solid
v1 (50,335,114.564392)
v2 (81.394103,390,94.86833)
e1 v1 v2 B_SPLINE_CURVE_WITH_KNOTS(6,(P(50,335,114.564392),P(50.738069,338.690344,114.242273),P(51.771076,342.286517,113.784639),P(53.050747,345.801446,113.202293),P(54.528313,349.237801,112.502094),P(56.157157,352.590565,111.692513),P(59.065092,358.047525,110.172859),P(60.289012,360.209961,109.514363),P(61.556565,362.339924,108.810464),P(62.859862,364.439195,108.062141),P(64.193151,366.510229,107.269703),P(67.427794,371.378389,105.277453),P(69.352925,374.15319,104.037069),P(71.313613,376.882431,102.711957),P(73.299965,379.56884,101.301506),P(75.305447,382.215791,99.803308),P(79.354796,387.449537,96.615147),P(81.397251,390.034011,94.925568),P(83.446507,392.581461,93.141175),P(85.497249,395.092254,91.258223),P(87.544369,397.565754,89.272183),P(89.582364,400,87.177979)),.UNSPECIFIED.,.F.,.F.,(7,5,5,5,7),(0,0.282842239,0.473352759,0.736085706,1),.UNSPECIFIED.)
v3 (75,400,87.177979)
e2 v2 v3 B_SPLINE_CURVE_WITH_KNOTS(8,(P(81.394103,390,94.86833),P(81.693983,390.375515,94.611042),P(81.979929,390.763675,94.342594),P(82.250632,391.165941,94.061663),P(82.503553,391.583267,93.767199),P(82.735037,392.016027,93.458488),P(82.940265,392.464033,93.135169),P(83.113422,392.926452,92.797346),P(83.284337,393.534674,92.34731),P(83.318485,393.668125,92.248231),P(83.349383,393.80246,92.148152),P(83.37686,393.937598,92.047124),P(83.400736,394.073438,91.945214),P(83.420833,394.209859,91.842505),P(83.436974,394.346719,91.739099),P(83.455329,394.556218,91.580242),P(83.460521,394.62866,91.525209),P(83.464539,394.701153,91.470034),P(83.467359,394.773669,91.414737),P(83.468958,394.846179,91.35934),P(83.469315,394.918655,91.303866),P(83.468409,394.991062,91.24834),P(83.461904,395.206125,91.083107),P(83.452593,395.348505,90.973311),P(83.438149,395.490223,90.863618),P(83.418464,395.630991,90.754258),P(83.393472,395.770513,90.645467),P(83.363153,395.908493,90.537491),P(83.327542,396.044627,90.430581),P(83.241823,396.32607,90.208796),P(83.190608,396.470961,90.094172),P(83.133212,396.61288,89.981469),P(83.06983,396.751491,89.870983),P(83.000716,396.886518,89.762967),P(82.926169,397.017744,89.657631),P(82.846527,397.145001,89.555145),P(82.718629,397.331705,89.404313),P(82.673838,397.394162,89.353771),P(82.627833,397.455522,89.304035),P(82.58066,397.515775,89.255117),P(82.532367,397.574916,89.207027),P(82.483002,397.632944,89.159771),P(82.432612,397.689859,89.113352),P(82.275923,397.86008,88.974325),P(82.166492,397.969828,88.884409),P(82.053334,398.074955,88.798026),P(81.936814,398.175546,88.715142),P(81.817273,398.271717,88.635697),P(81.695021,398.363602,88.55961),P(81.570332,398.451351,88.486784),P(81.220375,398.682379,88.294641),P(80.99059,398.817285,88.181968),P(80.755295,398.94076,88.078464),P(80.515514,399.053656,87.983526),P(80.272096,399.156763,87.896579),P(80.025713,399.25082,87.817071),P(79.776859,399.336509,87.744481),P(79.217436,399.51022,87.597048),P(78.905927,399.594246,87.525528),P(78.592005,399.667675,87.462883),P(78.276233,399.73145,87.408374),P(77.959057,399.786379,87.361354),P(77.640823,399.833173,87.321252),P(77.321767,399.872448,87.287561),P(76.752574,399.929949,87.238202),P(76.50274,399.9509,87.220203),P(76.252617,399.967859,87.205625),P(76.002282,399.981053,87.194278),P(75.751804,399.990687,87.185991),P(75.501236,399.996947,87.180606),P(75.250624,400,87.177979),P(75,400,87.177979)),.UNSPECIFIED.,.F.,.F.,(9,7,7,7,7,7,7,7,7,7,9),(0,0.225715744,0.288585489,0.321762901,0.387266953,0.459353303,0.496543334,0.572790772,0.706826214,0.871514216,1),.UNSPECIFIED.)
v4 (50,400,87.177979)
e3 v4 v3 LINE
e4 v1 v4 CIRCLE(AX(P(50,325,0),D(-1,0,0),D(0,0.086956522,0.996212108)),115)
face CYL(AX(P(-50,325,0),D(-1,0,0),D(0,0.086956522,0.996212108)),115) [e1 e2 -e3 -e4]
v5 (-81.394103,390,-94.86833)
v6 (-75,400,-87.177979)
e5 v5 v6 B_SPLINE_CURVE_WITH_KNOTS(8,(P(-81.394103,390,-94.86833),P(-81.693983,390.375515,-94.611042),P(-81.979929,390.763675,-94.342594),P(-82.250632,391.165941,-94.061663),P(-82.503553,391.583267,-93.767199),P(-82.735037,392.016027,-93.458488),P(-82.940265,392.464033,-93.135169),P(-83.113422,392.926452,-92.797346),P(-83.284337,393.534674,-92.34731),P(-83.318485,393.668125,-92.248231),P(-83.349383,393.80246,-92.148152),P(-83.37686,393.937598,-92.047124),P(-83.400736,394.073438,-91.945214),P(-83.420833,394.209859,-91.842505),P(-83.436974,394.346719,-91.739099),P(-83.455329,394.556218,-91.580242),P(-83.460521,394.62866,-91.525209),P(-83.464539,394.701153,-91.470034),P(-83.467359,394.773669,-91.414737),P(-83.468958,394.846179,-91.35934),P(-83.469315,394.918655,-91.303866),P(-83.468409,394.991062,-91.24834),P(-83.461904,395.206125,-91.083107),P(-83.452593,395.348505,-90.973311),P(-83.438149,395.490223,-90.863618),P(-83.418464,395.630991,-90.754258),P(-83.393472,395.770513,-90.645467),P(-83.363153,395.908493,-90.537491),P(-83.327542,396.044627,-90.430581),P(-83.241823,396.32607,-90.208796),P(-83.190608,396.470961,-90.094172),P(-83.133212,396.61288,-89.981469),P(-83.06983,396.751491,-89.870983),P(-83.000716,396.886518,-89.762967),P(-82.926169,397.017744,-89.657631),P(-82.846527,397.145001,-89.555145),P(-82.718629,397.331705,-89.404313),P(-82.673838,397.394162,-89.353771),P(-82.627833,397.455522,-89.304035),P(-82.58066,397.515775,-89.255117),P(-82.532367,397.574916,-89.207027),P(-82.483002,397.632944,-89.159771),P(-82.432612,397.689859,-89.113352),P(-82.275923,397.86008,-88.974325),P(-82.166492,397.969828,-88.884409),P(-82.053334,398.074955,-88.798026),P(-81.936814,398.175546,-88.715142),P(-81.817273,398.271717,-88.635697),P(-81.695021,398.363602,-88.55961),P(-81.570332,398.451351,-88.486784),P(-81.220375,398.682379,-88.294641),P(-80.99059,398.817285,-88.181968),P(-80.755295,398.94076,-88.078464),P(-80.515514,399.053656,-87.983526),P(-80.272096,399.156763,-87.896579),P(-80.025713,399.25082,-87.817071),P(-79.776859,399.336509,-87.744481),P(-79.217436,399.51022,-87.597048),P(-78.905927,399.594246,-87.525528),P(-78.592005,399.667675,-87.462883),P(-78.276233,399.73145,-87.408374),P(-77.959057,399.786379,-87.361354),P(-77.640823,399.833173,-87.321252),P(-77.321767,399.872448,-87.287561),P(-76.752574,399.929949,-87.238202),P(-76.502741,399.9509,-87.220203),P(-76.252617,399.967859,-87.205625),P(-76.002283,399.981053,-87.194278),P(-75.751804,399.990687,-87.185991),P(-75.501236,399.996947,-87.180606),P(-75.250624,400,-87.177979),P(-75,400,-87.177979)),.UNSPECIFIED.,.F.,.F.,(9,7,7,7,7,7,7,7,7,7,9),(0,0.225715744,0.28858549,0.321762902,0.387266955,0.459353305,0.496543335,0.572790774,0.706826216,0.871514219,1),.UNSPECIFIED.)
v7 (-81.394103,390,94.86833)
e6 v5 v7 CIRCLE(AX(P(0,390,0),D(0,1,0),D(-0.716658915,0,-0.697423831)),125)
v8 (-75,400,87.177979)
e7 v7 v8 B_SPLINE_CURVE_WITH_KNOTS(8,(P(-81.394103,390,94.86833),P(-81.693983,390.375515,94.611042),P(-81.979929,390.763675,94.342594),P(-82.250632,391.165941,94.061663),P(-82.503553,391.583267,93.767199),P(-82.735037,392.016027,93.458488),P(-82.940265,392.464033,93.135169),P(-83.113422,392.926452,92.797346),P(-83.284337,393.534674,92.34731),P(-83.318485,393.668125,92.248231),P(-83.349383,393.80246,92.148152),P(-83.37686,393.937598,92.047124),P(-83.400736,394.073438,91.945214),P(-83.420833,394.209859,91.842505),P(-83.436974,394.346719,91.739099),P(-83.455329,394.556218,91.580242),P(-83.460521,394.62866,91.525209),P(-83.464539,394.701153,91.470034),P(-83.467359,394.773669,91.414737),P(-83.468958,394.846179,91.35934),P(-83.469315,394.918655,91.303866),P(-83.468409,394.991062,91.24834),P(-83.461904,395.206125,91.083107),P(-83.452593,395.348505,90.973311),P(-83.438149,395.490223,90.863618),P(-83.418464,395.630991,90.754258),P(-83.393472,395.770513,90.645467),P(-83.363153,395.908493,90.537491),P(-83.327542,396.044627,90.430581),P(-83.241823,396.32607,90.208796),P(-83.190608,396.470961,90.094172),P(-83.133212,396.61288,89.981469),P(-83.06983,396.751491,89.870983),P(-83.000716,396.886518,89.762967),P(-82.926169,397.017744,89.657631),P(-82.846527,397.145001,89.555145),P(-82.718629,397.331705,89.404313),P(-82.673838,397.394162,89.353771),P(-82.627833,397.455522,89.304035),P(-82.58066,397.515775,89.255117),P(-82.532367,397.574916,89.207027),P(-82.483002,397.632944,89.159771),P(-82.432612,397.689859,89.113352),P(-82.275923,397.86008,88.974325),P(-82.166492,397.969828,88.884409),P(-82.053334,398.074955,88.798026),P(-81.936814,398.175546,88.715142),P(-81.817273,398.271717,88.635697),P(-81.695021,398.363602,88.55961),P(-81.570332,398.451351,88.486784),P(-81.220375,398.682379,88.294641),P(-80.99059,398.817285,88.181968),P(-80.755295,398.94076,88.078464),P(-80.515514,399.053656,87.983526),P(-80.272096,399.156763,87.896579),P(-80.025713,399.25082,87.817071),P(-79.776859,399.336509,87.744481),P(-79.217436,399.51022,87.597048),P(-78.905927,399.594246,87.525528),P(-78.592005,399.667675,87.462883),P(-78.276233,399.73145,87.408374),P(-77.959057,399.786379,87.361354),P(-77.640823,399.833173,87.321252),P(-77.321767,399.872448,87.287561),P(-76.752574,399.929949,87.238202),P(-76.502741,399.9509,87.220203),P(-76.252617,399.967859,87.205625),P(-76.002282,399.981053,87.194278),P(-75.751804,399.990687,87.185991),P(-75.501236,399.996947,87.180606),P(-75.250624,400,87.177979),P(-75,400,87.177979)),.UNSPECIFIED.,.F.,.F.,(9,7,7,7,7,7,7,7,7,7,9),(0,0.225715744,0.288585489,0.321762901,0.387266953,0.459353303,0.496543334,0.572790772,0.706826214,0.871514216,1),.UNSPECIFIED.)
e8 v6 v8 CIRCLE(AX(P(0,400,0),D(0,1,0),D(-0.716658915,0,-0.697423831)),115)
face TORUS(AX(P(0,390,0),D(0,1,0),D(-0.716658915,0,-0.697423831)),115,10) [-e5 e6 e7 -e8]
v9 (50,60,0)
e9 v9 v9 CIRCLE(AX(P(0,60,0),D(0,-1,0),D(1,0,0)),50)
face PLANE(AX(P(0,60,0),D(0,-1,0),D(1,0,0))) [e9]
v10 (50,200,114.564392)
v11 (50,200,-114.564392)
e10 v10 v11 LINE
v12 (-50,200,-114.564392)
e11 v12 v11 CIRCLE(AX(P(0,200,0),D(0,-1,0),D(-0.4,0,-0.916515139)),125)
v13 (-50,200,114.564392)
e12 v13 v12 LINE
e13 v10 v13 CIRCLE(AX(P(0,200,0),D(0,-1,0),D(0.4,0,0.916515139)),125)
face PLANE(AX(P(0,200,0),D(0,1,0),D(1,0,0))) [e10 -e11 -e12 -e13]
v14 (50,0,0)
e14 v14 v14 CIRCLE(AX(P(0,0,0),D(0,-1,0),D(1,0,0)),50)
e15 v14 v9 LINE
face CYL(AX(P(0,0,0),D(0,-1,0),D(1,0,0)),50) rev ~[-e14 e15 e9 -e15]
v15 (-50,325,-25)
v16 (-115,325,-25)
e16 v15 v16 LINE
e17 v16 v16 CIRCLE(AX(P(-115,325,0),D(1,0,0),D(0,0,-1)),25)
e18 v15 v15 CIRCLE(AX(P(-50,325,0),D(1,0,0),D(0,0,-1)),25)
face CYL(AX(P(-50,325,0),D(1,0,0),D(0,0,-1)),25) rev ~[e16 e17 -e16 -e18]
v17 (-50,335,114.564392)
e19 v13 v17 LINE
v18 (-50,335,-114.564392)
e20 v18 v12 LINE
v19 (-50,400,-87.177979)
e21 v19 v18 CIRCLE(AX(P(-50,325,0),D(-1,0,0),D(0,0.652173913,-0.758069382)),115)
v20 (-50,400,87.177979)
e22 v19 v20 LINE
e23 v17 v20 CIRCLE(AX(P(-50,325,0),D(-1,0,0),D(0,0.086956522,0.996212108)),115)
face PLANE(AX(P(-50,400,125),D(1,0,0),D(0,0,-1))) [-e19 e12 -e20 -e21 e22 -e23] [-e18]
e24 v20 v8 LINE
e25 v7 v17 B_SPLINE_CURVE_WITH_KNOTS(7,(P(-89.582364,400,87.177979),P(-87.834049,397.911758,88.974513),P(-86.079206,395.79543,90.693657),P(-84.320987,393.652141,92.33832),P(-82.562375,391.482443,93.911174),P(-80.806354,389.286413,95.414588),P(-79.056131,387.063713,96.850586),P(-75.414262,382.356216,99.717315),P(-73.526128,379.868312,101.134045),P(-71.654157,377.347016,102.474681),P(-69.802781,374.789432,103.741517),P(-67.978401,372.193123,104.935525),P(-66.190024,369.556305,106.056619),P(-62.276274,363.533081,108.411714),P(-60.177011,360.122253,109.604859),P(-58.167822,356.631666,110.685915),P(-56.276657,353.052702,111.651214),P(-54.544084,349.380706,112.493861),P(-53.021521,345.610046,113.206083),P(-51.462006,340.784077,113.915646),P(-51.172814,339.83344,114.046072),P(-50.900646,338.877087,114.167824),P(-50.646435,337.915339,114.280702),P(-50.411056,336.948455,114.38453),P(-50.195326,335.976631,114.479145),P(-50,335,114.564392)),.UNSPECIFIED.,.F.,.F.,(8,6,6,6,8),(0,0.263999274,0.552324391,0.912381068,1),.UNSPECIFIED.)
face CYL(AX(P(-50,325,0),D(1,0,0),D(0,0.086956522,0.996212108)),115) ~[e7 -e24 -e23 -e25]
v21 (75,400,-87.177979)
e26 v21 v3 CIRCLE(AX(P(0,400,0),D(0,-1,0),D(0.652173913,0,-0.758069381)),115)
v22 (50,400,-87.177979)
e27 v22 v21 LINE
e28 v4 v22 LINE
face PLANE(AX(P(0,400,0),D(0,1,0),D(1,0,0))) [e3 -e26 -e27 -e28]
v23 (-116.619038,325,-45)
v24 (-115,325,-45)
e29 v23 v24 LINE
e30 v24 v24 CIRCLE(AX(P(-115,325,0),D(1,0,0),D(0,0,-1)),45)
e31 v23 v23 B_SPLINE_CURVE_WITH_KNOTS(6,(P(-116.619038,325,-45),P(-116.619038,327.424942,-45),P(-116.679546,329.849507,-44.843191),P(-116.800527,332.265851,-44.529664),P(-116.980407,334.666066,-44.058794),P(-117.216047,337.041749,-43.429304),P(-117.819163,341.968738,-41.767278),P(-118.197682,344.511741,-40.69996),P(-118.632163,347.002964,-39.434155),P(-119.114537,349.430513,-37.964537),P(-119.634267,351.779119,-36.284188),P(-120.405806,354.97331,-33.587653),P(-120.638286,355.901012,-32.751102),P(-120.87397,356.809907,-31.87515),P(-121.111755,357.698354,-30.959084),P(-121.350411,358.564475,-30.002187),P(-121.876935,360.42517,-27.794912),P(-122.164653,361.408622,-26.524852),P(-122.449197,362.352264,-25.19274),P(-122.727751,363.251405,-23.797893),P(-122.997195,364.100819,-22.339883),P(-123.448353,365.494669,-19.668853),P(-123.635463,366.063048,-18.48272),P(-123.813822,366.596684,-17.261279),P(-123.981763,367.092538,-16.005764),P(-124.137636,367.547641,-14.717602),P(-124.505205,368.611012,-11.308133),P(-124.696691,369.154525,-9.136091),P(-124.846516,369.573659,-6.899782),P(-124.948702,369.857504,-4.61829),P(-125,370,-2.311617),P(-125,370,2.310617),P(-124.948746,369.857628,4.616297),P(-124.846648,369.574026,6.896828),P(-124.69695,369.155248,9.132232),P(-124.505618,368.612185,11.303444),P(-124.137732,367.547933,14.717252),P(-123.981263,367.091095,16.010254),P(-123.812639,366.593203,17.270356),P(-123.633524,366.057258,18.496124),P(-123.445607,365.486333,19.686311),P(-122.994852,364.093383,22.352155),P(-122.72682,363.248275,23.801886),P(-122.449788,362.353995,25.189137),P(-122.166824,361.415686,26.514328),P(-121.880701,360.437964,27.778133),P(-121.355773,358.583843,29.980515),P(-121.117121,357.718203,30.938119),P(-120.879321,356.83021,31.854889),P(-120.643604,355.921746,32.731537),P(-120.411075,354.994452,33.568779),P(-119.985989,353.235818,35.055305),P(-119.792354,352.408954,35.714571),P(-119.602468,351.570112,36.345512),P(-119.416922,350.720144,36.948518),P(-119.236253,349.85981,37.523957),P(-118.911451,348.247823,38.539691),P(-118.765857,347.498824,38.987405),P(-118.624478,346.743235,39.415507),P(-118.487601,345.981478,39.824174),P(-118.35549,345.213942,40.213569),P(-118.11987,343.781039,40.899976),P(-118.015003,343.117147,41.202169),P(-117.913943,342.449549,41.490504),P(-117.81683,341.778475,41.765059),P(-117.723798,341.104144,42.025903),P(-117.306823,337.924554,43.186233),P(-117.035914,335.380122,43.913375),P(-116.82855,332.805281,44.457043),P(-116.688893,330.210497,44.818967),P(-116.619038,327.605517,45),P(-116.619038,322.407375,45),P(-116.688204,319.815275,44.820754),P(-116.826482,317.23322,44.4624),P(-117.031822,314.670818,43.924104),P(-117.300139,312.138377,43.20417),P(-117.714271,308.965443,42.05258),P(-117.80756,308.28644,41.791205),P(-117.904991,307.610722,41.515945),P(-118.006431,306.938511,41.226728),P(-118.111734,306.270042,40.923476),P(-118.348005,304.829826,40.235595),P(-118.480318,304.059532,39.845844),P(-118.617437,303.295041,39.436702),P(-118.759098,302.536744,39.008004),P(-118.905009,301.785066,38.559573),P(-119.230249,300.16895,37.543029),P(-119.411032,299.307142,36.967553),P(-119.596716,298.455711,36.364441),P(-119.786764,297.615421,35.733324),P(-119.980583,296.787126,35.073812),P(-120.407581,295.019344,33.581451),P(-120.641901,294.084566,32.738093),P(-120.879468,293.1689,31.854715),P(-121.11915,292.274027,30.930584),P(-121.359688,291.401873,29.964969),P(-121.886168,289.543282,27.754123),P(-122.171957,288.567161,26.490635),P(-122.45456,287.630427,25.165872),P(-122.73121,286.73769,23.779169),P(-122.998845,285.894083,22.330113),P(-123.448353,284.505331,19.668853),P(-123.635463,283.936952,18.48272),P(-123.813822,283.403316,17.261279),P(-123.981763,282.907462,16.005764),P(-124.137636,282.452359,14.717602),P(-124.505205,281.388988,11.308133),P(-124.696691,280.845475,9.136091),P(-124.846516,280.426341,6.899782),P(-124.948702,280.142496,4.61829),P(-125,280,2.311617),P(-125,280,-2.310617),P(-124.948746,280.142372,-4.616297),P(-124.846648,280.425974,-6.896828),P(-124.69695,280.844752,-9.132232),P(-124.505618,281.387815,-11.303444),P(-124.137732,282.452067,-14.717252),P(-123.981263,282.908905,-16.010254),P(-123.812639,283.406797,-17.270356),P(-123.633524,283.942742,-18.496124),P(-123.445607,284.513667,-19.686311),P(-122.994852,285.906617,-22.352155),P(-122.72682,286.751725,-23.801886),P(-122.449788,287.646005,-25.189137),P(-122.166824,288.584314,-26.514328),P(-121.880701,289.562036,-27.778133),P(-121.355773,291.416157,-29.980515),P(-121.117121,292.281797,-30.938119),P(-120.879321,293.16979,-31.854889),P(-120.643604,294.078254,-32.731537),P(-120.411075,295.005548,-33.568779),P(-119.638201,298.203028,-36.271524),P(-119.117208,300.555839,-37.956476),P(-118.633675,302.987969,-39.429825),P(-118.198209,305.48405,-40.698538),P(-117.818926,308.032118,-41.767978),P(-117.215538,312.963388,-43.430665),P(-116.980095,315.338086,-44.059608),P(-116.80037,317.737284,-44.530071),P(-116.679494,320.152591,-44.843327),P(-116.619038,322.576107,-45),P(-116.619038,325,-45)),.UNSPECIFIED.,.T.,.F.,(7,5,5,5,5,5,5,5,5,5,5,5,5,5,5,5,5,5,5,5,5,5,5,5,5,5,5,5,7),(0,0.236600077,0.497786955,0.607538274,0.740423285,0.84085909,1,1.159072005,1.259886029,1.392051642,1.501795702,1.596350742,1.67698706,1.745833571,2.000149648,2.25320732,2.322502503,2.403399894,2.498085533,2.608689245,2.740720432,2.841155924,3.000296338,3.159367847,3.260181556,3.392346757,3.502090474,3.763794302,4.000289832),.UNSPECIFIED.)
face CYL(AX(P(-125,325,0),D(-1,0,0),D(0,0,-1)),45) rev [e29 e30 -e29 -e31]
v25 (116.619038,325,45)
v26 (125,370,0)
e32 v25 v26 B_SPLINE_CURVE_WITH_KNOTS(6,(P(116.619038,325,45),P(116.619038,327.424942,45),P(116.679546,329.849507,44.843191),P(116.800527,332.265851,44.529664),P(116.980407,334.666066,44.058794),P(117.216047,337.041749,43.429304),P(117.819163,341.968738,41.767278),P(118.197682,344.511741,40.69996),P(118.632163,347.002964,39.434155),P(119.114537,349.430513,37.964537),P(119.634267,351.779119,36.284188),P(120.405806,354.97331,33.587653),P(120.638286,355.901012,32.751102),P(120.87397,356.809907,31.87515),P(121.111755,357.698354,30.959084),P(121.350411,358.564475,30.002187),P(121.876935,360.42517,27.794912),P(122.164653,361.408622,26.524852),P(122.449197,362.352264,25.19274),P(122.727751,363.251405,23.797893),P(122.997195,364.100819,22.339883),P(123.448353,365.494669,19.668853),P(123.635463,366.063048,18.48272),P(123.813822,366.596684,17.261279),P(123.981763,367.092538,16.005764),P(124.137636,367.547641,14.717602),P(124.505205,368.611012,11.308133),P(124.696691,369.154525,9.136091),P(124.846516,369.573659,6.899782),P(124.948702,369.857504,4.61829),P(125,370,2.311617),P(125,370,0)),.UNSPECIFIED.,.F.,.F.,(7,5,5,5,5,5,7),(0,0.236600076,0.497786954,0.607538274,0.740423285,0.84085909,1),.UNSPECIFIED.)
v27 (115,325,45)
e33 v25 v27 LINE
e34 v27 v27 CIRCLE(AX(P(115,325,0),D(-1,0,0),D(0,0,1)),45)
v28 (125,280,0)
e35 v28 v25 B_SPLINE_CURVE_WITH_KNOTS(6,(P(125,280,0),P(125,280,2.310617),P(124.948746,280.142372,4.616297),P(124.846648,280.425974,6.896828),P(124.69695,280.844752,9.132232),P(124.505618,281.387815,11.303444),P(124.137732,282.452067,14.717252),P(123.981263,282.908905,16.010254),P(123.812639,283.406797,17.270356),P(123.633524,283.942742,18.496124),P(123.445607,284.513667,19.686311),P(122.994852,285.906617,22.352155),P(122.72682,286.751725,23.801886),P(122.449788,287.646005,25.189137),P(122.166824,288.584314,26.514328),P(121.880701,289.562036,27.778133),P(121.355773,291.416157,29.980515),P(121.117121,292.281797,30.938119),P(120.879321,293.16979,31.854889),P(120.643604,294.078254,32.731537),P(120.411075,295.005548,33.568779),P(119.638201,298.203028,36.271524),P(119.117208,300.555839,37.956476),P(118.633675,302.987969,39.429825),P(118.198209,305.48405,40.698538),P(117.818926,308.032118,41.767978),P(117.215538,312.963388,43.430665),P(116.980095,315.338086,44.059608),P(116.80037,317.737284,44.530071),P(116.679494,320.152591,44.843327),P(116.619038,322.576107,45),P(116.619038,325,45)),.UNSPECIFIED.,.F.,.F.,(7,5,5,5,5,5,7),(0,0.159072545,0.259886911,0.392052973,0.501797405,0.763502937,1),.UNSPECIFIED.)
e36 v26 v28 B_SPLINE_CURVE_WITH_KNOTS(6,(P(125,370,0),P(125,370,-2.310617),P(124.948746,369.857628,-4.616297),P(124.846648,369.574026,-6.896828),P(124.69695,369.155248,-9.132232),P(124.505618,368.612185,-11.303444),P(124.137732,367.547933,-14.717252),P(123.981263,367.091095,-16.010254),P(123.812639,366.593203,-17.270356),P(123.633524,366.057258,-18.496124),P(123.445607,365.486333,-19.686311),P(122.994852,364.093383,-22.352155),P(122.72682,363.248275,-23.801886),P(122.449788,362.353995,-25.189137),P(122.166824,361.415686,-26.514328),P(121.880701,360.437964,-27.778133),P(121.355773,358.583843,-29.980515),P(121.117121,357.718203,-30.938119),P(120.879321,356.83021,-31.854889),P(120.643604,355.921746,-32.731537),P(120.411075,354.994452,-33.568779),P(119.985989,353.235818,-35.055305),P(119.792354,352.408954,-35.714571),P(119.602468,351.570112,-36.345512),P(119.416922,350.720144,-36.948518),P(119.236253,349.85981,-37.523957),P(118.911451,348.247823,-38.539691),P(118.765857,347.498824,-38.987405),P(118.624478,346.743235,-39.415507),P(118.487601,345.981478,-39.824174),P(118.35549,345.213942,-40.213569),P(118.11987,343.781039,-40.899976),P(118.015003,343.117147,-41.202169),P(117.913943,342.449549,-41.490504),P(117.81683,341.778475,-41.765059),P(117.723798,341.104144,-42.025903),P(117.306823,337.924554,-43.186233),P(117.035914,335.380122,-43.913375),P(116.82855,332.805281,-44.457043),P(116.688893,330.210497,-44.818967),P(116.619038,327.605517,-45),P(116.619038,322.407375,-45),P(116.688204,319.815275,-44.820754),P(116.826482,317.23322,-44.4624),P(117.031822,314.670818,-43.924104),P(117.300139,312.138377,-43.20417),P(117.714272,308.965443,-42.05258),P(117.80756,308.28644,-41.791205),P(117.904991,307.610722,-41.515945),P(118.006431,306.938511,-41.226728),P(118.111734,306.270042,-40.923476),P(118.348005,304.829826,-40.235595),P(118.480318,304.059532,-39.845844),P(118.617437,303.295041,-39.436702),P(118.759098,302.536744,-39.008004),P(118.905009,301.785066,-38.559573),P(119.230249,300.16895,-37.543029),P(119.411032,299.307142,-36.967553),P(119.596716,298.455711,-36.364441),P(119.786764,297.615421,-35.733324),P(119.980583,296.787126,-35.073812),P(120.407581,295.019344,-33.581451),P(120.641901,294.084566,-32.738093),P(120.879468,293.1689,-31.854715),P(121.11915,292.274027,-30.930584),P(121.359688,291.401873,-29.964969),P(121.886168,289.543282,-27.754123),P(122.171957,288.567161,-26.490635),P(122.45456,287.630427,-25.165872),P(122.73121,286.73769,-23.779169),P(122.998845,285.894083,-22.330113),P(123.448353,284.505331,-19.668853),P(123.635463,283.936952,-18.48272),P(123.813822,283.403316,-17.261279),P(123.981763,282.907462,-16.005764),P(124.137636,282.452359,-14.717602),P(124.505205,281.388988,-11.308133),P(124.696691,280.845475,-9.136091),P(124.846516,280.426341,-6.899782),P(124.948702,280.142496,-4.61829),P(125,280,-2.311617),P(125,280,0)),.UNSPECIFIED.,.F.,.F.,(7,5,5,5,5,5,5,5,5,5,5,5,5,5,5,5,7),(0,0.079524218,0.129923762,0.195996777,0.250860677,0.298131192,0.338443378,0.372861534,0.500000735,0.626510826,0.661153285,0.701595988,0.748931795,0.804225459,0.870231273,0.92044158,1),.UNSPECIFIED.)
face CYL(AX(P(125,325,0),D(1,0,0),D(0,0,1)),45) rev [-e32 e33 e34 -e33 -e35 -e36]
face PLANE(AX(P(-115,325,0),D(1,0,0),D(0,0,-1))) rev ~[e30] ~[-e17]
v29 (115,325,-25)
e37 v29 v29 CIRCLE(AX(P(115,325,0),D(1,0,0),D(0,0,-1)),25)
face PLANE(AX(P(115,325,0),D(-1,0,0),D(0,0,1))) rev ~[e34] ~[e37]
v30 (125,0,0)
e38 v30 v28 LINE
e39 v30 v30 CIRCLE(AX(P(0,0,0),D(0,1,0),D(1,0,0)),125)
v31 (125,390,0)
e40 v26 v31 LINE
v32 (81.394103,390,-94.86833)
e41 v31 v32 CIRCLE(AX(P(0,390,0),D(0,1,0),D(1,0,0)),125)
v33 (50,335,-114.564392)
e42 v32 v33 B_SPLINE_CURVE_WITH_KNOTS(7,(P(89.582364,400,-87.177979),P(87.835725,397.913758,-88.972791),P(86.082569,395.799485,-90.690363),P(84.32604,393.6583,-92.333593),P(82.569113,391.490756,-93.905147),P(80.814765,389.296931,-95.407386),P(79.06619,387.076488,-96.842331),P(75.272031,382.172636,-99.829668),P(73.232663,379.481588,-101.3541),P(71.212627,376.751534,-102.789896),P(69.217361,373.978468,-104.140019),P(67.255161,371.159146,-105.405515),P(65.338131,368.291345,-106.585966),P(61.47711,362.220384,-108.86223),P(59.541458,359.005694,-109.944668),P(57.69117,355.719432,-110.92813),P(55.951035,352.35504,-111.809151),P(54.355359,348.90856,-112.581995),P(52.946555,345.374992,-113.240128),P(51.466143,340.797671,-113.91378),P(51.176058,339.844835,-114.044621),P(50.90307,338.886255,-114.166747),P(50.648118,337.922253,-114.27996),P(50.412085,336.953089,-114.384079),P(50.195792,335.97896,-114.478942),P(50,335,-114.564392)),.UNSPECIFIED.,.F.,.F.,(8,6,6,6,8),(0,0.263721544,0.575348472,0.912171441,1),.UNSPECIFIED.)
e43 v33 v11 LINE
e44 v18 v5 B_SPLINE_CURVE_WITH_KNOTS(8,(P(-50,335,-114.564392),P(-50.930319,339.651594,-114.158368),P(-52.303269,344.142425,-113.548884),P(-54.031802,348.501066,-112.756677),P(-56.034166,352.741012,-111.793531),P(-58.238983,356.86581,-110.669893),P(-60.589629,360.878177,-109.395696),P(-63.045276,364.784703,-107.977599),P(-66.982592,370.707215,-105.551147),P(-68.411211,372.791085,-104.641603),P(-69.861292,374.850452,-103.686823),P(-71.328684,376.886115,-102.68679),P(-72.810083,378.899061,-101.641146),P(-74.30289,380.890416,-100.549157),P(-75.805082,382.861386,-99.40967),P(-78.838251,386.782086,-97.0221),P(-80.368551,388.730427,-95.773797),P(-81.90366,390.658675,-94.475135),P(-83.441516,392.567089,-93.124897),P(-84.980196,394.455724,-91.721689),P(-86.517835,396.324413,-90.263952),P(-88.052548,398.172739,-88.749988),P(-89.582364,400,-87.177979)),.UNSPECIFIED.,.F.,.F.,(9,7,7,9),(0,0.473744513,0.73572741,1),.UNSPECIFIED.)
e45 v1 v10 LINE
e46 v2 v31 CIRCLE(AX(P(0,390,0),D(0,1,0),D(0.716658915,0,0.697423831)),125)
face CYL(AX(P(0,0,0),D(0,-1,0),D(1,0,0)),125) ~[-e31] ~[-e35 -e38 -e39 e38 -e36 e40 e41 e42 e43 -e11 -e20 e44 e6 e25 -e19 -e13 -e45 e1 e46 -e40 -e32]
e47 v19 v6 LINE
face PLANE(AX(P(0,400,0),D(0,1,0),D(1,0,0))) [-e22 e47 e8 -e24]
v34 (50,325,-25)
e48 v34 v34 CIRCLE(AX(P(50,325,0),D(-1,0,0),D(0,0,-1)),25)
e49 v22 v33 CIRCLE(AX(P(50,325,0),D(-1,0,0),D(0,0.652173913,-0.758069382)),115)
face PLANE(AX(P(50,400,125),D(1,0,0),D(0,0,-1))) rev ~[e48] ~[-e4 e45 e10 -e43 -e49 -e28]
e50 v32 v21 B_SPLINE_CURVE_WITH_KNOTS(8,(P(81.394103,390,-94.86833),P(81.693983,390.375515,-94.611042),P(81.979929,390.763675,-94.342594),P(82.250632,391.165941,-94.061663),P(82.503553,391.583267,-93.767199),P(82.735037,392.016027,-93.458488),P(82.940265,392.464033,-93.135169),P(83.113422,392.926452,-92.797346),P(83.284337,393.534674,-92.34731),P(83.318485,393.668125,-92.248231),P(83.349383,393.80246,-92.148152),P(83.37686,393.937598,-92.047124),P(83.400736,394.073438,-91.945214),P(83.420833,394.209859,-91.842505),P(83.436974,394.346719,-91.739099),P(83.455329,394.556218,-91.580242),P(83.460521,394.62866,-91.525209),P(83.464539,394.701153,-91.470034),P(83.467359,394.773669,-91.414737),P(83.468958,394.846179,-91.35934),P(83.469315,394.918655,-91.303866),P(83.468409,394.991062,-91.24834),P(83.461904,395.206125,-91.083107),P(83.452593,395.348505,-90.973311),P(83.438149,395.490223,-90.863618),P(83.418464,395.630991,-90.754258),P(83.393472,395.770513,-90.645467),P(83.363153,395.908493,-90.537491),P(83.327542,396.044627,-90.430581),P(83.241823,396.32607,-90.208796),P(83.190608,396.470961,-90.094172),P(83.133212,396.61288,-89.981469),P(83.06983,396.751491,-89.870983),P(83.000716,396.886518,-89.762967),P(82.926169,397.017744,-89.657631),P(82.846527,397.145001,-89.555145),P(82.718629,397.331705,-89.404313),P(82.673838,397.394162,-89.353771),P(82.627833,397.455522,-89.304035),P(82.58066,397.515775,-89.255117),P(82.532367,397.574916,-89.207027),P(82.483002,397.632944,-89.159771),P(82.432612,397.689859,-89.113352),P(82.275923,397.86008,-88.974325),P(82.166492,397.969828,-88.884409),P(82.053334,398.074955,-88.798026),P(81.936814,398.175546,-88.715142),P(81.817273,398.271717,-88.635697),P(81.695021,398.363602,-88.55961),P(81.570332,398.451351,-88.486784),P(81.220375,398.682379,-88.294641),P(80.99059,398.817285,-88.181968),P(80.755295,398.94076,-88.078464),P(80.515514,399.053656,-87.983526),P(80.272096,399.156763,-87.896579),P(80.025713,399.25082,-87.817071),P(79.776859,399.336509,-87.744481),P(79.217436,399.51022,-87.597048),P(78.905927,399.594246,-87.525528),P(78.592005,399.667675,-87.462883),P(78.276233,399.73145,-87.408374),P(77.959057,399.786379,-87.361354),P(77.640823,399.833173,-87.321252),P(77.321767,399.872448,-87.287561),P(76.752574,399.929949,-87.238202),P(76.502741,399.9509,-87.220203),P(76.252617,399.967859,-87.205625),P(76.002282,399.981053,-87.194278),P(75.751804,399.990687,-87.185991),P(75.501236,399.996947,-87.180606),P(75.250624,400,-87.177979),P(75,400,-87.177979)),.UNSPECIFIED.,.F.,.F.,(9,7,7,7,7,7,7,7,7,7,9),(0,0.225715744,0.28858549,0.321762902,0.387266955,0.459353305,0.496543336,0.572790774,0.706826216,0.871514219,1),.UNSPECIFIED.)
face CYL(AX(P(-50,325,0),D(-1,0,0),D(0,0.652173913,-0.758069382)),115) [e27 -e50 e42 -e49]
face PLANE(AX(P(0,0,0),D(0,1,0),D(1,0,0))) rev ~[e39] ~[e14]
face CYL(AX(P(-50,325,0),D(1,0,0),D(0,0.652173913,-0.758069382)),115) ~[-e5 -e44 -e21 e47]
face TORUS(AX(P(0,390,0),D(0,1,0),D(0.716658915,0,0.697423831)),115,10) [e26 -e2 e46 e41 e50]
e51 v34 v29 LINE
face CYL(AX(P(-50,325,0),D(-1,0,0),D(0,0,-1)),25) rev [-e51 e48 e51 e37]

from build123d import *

# Parameters (mm, degrees)
SKETCH1_R               = 125
BOSS_EXTRUDE1_DEPTH     = 400
SKETCH2_W               = 100
SKETCH2_H               = 250
CUT_EXTRUDE1_DEPTH      = 200
SKETCH4_R               = 50
CUT_EXTRUDE3_DEPTH      = 60
SKETCH7_R               = 25
CUT_EXTRUDE6_DEPTH      = 176
CUT_EXTRUDE6_DEPTH_BACK = 76
FILLET2_R               = 10
SKETCH8_R               = 45
SKETCH8_R_2             = 25
CUT_EXTRUDE7_DEPTH      = 10
SKETCH10_R              = 45
SKETCH10_R_2            = 25
CUT_EXTRUDE8_DEPTH      = 10


with BuildPart() as part:
    # Sketch1 → Boss-Extrude1 (new body)
    with BuildSketch(Plane(origin=(0, 0, 0), x_dir=(1, 0, 0), z_dir=(0, 1, 0))):
        Circle(SKETCH1_R)
    extrude(amount=BOSS_EXTRUDE1_DEPTH)

    # Sketch2 → Cut-Extrude1 (cut)
    with BuildSketch(Plane(origin=(0, 400, 0), x_dir=(1, 0, 0), z_dir=(0, 1, 0))):
        Rectangle(SKETCH2_W, SKETCH2_H)
    extrude(amount=-CUT_EXTRUDE1_DEPTH, mode=Mode.SUBTRACT)

    # Sketch4 → Cut-Extrude3 (cut)
    with BuildSketch(Plane.XZ):
        Circle(SKETCH4_R)
    extrude(amount=-CUT_EXTRUDE3_DEPTH, mode=Mode.SUBTRACT)

    # Sketch7 → Cut-Extrude6 (cut, two sides)
    with BuildSketch(Plane(origin=(-50, 0, 0), x_dir=(0, 0, -1), z_dir=(1, 0, 0))) as cut_extrude6_sk:
        with BuildLine():
            Line((-87.177978871, 400), (-114.564392374, 400))
            Line((-114.564392374, 400), (-114.564392374, 335))
            ThreePointArc((-114.564392374, 335), (-105.977573518, 369.651471545), (-87.177978871, 400))
        make_face()
        with BuildLine():
            ThreePointArc((87.177978871, 400), (105.977573518, 369.651471545), (114.564392374, 335))
            Line((114.564392374, 335), (114.564392374, 400))
            Line((114.564392374, 400), (87.177978871, 400))
        make_face()
        with Locations((0, 325)):
            Circle(SKETCH7_R)
    extrude(amount=CUT_EXTRUDE6_DEPTH, mode=Mode.SUBTRACT)
    extrude(cut_extrude6_sk.sketch, amount=-CUT_EXTRUDE6_DEPTH_BACK, mode=Mode.SUBTRACT)

    # Fillet2
    fillet2_edges = [part.edges().sort_by_distance(p)[0] for p in [
        (115.807589436, 400, 47.048934409),
        (-125, 400, 0),
    ]]
    fillet(fillet2_edges, radius=FILLET2_R)

    # Sketch8 → Cut-Extrude7 (cut)
    with BuildSketch(Plane(origin=(-125, 0, 0), x_dir=(0, 0, -1), z_dir=(1, 0, 0))):
        with Locations((0, 325)):
            Circle(SKETCH8_R)
        with Locations((0, 325)):
            Circle(SKETCH8_R_2, mode=Mode.SUBTRACT)
    extrude(amount=CUT_EXTRUDE7_DEPTH, mode=Mode.SUBTRACT)

    # Sketch10 → Cut-Extrude8 (cut)
    with BuildSketch(Plane.ZY.offset(-125)):
        with Locations((0, 325)):
            Circle(SKETCH10_R)
        with Locations((0, 325)):
            Circle(SKETCH10_R_2, mode=Mode.SUBTRACT)
    extrude(amount=CUT_EXTRUDE8_DEPTH, mode=Mode.SUBTRACT)


solid = part.part
